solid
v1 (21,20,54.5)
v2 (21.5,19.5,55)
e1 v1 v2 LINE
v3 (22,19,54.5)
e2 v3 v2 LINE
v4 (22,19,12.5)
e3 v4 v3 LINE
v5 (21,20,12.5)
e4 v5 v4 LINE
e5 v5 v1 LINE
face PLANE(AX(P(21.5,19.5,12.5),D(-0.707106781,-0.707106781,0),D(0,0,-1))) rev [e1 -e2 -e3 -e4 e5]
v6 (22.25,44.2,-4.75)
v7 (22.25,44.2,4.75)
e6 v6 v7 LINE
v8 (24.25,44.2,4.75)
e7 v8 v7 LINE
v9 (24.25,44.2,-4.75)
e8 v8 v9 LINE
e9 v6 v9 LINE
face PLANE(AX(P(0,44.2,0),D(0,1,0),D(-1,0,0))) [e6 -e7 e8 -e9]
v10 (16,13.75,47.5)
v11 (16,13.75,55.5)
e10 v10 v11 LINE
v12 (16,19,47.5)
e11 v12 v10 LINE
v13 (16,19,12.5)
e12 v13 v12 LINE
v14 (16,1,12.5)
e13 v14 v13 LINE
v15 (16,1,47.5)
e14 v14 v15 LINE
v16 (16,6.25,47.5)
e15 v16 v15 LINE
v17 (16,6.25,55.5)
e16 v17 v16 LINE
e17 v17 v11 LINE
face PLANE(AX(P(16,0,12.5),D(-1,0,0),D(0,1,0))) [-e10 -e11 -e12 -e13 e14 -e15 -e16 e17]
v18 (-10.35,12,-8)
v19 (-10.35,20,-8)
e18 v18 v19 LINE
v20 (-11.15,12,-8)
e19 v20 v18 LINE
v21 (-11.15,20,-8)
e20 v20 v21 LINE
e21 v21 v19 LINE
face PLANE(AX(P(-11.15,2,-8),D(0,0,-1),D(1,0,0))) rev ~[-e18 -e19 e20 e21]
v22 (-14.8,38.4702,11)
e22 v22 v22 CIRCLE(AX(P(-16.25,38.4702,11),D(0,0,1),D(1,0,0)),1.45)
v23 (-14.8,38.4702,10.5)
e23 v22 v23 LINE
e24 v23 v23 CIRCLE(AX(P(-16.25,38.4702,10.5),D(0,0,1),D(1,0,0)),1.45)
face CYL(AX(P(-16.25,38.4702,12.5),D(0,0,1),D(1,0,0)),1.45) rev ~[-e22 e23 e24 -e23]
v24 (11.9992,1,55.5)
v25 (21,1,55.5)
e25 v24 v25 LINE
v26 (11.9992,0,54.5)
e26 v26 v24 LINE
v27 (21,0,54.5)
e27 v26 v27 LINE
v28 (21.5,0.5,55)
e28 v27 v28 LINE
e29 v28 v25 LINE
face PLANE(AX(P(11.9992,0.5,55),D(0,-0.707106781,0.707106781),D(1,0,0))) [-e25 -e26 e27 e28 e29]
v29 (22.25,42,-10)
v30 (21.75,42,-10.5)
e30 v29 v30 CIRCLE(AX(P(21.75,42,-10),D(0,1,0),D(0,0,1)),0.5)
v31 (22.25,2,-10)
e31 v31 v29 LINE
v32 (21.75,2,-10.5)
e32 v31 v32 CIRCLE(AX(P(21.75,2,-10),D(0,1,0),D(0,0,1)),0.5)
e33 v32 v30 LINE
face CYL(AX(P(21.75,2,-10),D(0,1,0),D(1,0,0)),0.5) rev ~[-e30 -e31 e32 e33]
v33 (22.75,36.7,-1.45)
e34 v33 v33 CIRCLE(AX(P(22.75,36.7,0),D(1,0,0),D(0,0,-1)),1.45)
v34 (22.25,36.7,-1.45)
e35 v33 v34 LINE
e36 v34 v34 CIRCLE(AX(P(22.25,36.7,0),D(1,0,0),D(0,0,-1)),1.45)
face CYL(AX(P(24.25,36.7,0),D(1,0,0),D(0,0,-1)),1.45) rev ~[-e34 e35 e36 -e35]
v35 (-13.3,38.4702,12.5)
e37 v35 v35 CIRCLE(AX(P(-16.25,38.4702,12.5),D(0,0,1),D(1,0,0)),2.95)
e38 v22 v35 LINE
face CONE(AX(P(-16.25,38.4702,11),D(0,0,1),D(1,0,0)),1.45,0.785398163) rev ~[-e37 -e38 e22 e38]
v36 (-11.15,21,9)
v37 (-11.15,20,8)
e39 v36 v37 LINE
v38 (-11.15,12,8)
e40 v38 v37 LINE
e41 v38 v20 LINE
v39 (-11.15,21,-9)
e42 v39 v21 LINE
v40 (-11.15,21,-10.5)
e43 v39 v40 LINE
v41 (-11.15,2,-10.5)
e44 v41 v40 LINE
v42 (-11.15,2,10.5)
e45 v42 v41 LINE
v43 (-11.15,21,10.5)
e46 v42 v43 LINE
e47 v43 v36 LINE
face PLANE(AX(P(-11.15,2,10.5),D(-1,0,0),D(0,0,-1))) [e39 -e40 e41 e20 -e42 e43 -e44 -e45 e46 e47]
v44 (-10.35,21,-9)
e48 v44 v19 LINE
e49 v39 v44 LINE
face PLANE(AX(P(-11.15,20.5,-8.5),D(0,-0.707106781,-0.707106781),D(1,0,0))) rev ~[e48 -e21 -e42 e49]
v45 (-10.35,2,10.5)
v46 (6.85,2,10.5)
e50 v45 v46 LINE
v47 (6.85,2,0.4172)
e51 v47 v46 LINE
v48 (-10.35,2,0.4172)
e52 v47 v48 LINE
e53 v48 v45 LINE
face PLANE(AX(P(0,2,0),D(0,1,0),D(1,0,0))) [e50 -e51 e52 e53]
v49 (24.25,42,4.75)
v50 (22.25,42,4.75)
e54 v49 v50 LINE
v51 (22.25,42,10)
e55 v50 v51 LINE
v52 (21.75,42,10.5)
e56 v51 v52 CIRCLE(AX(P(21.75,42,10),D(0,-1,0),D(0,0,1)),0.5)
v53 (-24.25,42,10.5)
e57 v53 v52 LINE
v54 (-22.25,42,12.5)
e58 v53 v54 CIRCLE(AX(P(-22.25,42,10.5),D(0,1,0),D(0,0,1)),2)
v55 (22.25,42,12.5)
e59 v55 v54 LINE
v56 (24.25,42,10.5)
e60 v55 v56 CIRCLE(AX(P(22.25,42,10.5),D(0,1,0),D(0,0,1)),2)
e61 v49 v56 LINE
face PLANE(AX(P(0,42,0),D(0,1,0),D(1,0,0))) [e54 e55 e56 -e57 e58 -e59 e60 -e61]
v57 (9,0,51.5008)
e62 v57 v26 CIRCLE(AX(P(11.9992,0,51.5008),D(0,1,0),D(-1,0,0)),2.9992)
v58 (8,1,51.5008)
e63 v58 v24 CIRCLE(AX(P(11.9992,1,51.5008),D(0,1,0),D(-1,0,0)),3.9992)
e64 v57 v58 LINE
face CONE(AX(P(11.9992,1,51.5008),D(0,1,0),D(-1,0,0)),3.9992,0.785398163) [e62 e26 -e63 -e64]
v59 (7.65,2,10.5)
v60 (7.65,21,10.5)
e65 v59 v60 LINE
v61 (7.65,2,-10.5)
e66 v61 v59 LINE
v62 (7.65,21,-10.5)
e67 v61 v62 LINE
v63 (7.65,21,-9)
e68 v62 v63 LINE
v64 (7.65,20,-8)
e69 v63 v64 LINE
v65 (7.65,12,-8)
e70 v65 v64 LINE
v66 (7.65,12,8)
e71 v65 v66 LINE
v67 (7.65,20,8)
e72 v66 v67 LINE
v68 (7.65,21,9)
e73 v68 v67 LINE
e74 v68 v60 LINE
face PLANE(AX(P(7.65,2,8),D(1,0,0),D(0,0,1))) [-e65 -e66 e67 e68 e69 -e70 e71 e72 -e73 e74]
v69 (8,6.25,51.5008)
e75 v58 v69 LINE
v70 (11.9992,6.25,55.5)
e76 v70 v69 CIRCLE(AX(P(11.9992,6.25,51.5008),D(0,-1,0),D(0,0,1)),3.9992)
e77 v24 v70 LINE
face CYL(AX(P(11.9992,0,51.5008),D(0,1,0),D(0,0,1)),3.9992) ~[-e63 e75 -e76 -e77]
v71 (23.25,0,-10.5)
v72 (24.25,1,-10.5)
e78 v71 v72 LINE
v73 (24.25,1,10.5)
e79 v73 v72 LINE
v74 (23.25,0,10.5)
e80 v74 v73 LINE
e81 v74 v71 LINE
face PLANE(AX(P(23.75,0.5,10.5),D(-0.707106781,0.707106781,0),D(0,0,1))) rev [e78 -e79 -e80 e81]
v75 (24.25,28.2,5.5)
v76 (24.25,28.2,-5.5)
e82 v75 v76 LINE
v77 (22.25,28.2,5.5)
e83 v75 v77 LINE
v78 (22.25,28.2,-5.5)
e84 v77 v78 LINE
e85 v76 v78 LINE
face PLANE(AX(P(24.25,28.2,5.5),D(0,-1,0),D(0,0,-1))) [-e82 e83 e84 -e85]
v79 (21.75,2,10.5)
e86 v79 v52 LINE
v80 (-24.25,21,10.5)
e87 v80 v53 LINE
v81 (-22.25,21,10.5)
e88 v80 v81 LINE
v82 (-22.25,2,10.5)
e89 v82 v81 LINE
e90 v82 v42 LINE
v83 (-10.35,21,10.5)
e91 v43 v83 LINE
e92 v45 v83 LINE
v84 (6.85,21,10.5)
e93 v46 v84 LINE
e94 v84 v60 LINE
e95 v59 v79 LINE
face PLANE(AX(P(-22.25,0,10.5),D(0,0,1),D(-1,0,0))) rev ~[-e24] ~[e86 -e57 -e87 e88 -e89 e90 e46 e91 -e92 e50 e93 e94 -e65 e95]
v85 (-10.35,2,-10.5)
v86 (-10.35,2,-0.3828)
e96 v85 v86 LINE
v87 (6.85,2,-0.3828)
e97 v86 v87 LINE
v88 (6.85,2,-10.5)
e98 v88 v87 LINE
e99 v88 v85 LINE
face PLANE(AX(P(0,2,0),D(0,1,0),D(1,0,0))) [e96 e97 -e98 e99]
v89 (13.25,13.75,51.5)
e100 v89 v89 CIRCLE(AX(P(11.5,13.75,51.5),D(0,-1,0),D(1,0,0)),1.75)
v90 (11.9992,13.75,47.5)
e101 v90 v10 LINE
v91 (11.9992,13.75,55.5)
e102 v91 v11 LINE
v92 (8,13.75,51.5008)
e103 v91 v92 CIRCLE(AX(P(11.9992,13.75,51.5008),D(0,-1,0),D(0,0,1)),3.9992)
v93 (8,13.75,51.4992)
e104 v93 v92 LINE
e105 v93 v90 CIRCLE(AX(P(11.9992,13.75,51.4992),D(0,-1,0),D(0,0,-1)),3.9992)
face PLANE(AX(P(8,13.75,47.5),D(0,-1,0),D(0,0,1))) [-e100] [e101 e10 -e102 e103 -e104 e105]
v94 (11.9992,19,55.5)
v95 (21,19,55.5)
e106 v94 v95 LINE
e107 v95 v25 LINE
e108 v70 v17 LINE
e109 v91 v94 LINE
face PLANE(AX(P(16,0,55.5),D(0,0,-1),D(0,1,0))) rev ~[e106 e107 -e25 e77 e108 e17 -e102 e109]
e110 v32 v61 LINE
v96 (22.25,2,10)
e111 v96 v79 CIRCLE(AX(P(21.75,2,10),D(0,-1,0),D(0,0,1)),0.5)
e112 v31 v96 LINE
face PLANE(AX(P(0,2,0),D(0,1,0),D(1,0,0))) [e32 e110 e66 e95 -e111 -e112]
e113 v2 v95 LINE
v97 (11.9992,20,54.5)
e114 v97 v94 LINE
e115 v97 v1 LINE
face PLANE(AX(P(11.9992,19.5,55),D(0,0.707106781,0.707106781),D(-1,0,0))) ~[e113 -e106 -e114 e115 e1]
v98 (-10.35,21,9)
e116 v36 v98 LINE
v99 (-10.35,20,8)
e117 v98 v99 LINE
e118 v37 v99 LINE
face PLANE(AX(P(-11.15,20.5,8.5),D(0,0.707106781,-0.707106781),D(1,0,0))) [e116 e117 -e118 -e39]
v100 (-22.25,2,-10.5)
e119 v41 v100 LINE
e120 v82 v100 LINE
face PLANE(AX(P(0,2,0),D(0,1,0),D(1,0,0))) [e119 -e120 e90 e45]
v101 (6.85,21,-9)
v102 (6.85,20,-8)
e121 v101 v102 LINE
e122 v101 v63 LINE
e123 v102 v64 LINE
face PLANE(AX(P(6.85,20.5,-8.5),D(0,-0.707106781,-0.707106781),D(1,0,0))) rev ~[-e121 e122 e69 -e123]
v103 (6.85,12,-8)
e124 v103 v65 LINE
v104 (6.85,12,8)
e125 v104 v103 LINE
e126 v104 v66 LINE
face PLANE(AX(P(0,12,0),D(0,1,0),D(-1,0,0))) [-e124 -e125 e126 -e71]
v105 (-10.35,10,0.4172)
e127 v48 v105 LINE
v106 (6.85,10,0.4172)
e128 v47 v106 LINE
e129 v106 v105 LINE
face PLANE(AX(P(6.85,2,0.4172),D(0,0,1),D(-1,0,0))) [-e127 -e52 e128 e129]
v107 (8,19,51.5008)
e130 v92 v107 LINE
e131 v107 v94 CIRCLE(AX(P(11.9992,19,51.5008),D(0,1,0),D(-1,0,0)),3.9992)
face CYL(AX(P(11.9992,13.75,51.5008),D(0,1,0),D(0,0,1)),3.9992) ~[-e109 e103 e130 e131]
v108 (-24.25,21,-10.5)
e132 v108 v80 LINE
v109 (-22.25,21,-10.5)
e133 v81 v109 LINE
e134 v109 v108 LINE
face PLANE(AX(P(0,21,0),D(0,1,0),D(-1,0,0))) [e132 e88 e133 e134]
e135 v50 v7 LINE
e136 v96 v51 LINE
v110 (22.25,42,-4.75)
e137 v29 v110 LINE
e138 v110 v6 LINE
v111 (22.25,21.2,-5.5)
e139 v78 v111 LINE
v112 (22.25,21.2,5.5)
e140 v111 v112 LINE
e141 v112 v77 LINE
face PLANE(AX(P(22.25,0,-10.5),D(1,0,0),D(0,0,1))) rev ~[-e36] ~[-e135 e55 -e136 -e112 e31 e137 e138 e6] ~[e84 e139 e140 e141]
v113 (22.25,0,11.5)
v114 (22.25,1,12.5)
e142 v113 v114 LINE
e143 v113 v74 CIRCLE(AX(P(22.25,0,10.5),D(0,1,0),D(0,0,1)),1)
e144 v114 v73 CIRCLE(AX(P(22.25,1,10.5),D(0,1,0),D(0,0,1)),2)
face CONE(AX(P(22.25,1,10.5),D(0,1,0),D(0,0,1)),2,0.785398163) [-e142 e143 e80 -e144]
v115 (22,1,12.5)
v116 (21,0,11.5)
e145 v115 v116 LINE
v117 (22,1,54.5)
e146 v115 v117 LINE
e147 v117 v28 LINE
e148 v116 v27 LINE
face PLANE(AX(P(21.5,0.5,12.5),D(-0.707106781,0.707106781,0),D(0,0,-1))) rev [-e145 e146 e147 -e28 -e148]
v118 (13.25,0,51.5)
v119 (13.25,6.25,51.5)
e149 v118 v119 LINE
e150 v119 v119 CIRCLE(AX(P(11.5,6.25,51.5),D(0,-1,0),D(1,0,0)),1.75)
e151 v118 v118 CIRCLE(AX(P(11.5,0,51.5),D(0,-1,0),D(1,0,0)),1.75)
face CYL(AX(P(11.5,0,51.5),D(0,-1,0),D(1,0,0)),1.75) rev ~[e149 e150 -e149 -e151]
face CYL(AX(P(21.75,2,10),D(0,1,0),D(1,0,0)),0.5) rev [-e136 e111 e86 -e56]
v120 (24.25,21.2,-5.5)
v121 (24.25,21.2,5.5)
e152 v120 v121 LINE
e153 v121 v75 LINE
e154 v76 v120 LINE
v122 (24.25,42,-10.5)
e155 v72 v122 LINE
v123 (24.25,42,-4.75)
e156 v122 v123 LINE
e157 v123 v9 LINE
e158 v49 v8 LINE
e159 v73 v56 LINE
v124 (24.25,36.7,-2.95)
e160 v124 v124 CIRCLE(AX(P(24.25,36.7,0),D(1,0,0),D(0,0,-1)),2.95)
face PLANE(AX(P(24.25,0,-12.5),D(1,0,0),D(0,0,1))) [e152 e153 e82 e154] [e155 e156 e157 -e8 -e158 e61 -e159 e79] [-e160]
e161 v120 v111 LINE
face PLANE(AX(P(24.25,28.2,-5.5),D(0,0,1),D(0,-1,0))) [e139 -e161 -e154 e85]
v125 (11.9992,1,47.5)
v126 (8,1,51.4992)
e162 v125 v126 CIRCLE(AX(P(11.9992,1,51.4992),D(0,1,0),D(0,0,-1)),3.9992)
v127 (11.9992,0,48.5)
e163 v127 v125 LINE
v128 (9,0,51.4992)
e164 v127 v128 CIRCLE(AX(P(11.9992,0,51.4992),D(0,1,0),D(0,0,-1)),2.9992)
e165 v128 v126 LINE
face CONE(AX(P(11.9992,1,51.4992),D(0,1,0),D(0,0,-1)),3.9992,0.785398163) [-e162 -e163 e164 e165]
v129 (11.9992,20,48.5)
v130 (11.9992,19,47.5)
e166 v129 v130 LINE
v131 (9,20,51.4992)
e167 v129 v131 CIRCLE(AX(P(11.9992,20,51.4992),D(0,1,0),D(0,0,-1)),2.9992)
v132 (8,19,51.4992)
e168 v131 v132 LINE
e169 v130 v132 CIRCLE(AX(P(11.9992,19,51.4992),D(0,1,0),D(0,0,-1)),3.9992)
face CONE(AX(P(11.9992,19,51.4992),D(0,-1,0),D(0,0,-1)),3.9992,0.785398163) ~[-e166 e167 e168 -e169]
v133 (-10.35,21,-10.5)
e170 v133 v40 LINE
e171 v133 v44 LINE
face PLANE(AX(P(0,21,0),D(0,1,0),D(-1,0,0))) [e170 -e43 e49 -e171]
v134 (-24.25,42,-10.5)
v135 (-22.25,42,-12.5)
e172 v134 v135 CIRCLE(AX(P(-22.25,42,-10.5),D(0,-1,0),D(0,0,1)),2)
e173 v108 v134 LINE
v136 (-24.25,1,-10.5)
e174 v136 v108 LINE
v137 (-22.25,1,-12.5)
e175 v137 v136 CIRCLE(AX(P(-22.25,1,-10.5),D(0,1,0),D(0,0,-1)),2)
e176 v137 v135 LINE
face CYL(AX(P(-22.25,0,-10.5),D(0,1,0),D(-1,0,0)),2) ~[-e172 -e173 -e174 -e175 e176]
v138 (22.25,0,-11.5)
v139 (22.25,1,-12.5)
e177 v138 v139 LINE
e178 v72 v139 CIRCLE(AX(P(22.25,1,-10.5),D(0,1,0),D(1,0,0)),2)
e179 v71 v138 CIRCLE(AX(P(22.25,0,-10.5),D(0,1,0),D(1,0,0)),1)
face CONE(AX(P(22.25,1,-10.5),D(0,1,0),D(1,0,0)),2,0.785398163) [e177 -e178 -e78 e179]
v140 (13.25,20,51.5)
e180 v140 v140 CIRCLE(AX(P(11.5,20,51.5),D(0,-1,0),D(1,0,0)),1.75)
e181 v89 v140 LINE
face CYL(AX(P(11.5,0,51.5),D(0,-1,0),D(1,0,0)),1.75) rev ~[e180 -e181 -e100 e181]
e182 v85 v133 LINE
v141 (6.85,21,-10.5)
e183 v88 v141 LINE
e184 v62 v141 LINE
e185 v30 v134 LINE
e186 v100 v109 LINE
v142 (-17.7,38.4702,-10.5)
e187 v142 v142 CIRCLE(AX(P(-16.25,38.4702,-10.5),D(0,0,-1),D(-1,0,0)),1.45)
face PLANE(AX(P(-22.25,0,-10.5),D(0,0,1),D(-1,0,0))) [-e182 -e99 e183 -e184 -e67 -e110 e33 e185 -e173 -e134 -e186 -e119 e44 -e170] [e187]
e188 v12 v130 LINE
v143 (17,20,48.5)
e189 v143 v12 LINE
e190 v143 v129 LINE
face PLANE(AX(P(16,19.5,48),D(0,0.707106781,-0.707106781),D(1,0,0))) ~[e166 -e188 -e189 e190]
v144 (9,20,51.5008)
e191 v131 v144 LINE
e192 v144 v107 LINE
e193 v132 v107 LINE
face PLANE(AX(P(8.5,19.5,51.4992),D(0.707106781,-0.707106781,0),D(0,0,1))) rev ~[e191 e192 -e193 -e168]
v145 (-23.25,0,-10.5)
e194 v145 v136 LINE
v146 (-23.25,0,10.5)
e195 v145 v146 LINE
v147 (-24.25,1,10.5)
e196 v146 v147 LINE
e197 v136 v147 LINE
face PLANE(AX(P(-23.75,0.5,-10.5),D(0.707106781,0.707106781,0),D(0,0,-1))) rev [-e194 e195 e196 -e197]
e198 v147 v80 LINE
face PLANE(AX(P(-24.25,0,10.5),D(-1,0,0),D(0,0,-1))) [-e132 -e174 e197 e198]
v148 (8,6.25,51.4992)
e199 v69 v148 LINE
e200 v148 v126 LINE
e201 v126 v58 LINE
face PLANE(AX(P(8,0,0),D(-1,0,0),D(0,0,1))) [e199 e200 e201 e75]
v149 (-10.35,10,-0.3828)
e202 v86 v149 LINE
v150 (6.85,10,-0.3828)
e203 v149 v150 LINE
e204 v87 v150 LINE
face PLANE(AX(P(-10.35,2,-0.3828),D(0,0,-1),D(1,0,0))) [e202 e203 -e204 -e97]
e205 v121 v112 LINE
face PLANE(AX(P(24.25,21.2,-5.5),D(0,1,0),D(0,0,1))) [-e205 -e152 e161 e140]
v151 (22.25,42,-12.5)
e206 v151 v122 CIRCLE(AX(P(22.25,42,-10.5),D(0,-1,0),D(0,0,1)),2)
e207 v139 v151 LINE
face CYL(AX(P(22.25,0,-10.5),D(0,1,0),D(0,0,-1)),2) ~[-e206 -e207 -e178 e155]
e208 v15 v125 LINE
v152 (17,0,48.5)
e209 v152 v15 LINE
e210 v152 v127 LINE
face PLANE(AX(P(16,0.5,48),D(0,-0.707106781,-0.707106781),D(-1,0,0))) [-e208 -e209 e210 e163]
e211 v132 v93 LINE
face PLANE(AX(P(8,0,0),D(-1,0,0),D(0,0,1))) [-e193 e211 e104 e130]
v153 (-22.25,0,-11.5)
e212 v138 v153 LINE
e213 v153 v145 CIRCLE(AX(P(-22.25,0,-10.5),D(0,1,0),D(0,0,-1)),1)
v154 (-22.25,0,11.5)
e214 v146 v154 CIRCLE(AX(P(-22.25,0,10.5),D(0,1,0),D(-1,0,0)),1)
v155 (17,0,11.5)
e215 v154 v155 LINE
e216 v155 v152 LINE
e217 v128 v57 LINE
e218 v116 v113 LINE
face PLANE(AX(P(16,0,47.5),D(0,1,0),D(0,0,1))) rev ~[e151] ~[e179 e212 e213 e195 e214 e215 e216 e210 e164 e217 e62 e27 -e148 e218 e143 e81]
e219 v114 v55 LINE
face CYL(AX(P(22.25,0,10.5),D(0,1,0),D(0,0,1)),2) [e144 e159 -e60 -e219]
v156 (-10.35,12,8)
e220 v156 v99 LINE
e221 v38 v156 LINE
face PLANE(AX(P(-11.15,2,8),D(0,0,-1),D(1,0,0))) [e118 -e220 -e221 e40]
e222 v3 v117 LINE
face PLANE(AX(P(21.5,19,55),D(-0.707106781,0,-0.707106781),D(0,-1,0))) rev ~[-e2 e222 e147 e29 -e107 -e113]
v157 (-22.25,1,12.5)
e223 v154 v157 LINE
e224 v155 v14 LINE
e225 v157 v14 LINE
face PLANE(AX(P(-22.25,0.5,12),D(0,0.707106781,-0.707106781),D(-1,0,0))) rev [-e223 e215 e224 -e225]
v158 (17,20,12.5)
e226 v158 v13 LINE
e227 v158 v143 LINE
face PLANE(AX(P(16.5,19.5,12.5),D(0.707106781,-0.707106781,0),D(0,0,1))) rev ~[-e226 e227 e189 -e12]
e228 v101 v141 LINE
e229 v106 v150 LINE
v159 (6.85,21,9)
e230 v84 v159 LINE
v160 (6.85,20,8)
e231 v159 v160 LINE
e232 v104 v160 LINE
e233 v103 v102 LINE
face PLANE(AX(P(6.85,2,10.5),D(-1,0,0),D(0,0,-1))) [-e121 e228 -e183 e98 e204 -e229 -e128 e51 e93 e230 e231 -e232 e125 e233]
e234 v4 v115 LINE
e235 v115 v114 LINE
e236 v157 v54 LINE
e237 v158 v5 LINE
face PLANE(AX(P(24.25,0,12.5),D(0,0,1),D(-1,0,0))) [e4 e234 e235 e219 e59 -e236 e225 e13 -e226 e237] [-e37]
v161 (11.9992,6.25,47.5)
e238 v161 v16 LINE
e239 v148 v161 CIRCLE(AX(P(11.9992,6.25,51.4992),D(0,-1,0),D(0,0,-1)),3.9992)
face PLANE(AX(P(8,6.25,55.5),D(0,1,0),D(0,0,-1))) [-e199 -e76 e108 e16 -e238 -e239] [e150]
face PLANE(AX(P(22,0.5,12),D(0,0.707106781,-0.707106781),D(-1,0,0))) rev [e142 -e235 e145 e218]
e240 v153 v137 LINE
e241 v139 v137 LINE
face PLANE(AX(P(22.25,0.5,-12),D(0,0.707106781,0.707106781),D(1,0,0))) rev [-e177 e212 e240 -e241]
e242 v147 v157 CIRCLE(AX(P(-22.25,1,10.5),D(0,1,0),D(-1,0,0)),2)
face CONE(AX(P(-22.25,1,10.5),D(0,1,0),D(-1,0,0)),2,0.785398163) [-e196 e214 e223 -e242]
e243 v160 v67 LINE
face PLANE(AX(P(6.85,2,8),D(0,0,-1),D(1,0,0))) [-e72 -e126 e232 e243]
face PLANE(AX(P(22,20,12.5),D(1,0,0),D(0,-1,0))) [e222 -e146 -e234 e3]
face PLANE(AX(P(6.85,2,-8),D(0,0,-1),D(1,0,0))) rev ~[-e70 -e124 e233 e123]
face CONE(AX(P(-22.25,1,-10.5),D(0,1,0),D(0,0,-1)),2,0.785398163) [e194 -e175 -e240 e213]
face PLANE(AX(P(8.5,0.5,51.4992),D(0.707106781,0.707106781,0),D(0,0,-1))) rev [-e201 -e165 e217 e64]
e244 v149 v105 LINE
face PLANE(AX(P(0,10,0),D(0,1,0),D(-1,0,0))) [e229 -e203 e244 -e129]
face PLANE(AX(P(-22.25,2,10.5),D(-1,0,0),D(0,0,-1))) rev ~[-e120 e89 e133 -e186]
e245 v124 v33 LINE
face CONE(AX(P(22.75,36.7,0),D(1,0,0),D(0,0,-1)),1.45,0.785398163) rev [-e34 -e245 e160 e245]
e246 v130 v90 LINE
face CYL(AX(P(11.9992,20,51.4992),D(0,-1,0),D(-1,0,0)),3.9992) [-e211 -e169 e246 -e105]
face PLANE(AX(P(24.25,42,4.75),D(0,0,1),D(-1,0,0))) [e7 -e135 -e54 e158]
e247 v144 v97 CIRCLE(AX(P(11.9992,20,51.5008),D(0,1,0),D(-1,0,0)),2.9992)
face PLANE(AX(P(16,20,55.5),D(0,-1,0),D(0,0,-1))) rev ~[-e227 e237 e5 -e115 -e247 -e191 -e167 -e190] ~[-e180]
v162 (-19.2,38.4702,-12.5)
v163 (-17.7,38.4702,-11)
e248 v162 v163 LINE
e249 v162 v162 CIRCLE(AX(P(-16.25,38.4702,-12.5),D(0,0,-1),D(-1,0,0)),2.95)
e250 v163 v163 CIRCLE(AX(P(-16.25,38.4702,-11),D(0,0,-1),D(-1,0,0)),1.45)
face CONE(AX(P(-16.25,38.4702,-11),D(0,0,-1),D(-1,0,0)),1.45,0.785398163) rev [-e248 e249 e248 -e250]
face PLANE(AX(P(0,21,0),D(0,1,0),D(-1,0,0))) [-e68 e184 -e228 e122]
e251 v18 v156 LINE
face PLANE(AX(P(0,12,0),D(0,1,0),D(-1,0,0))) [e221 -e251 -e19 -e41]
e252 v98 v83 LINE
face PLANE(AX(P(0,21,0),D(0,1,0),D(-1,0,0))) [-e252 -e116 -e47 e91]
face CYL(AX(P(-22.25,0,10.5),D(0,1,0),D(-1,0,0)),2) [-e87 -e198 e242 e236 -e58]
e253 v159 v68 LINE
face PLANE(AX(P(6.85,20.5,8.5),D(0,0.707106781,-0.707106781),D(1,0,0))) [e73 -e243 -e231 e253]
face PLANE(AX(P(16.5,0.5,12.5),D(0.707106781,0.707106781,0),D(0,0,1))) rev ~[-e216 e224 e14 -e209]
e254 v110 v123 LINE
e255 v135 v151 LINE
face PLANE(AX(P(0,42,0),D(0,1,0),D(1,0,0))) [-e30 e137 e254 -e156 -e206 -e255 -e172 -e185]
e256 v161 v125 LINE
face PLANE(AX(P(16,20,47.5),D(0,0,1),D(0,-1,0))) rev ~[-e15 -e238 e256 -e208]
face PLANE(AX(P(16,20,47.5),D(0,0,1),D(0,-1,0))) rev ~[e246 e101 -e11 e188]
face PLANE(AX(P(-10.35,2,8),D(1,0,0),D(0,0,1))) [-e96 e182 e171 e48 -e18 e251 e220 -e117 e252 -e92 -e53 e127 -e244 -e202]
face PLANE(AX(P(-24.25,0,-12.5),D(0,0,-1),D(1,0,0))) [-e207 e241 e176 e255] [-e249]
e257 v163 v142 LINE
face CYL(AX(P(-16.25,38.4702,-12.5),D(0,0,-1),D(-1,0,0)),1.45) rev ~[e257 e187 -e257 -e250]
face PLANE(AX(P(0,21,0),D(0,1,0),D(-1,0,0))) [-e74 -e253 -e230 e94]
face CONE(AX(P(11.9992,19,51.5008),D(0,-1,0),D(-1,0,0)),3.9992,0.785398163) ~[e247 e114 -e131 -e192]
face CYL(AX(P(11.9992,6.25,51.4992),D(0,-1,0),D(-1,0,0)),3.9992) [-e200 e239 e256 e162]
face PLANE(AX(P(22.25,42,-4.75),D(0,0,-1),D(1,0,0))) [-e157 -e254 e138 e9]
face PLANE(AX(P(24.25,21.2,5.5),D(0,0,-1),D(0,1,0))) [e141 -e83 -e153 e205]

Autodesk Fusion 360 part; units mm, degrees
sketch "Skizze1" plane through (0, 0, 0) normal (0, 1, 0) x (1, 0, 0)
  line L0 (-24.25, 12.5) -> (24.25, 12.5)
  line L1 (24.25, 12.5) -> (24.25, -12.5)
  line L2 (24.25, -12.5) -> (-24.25, -12.5)
  line L3 (-24.25, -12.5) -> (-24.25, 12.5)
  line L4 (-24.25, 12.5) -> (24.25, -12.5) construction
  line L5 (24.25, 12.5) -> (-24.25, -12.5) construction
  line L6 (22.25, -10.5) -> (-22.25, -10.5)
  line L7 (-22.25, -10.5) -> (-22.25, 10.5)
  line L8 (-22.25, 10.5) -> (22.25, 10.5)
  line L9 (22.25, 10.5) -> (22.25, -10.5)
  line L10 (-22.25, -10.5) -> (-24.25, -10.5)
  line L11 (-22.25, 10.5) -> (-24.25, 10.5)
  dimension "d1" = 48.5
  dimension "d2" = 25
  dimension "d3" = 2
extrude "Extrusion1" add sketch "Skizze1" along normal blind 2 contours L6 L7 L8 L9
extrude "Extrusion3" add sketch "Skizze1" along normal blind 42 contours L0 L1 L2 L3 L6 L8 L9 L10 L11
sketch "Skizze2" plane through (0, 0, 12.5) normal (0, 0, 1) x (1, 0, 0)
  line L0 (-24.25, 0) -> (24.25, 0)
  line L1 (24.25, 0) -> (24.25, 42)
  line L2 (24.25, 42) -> (-24.25, 42)
  line L3 (-24.25, 42) -> (-24.25, 0)
  circle A0 centre (-16.25, 38.4702) radius 1.45
  dimension "d11" = 2.9
sketch "Skizze3" plane through (0, 0, -12.5) normal (0, 0, -1) x (-1, 0, 0)
  line L0 (-24.25, 0) -> (24.25, 0)
  line L1 (24.25, 0) -> (24.25, 42)
  line L2 (24.25, 42) -> (-24.25, 42)
  line L3 (-24.25, 42) -> (-24.25, 0)
  circle A0 centre (16.25, 38.4702) radius 1.45
  dimension "d12" = 2.9
extrude "Extrusion4" cut sketch "Skizze3" against normal blind 2 contours A0
extrude "Extrusion5" cut sketch "Skizze2" against normal blind 2 contours A0
chamfer "Fase1" distance 1.5 angle 45 1 edges at (-17.6019, 38.9946, 12.5)
chamfer "Fase2" distance 1.5 angle 45 1 edges at (-14.8981, 38.9946, -12.5)
sketch "Skizze4" plane through (0, 42, 0) normal (0, 1, 0) x (-1, 0, 0)
  line L0 (-22.25, -10.5) -> (-22.25, 10.5)
  line L1 (-22.25, 10.5) -> (24.25, 10.5)
  line L2 (24.25, 10.5) -> (24.25, 12.5)
  line L3 (24.25, 12.5) -> (-24.25, 12.5)
  line L4 (-24.25, 12.5) -> (-24.25, -12.5)
  line L5 (-24.25, -12.5) -> (24.25, -12.5)
  line L6 (24.25, -12.5) -> (24.25, -10.5)
  line L7 (24.25, -10.5) -> (-22.25, -10.5)
  line L8 (-22.25, -4.75) -> (-24.25, -4.75)
  line L9 (-24.25, -4.75) -> (-24.25, 4.75)
  line L10 (-24.25, 4.75) -> (-22.25, 4.75)
  line L11 (-22.25, 4.75) -> (-22.25, -4.75)
  line L12 (-22.25, -4.75) -> (-24.25, 4.75) construction
  line L13 (-24.25, -4.75) -> (-22.25, 4.75) construction
  point P0 (-23.25, 0)
  dimension "d20" = 2
  dimension "d21" = 9.5
extrude "Extrusion6" add sketch "Skizze4" along normal blind 2.2 contours L0 L4 L8 L9 L10 L11
sketch "Skizze5" plane through (24.25, 0, 0) normal (1, 0, 0) x (0, 0, -1)
  line L0 (-12.5, 0) -> (12.5, 0)
  line L1 (12.5, 0) -> (12.5, 42)
  line L2 (12.5, 42) -> (4.75, 42)
  line L3 (4.75, 42) -> (4.75, 44.2)
  line L4 (4.75, 44.2) -> (-4.75, 44.2)
  line L5 (-4.75, 44.2) -> (-4.75, 42)
  line L6 (-4.75, 42) -> (-12.5, 42)
  line L7 (-12.5, 42) -> (-12.5, 0)
  circle A0 centre (0, 36.7) radius 1.45
  line L8 (5.5, 21.2) -> (-5.5, 21.2)
  line L9 (-5.5, 21.2) -> (-5.5, 28.2)
  line L10 (-5.5, 28.2) -> (5.5, 28.2)
  line L11 (5.5, 28.2) -> (5.5, 21.2)
  line L12 (5.5, 21.2) -> (-5.5, 28.2) construction
  line L13 (-5.5, 21.2) -> (5.5, 28.2) construction
  point P0 (0, 24.7)
  dimension "d25" = 2.9
  dimension "d27" = 11
  dimension "d28" = 7
extrude "Extrusion7" cut sketch "Skizze5" against normal blind 2 contours A0 | L8 L9 L10 L11
chamfer "Fase3" distance 1.5 angle 45 1 edges at (24.25, 37.2243, 1.3519)
extrude "Extrusion8" add sketch "Skizze1" along normal blind 2 contours L3 L7 L10 L11
sketch "Skizze6" plane through (0, 2, 0) normal (0, 1, 0) x (-1, 0, 0)
  line L0 (-22.25, -10.5) -> (24.25, -10.5)
  line L1 (24.25, -10.5) -> (24.25, 10.5)
  line L2 (24.25, 10.5) -> (-22.25, 10.5)
  line L3 (-22.25, 10.5) -> (-22.25, -10.5)
  line L4 (11.15, -10.5) -> (10.35, -10.5)
  line L5 (10.35, -10.5) -> (10.35, 10.5)
  line L6 (10.35, 10.5) -> (11.15, 10.5)
  line L7 (11.15, 10.5) -> (11.15, -10.5)
  line L8 (11.15, -10.5) -> (10.35, 10.5) construction
  line L9 (10.35, -10.5) -> (11.15, 10.5) construction
  line L10 (-6.85, -10.5) -> (-7.65, -10.5)
  line L11 (-7.65, -10.5) -> (-7.65, 10.5)
  line L12 (-7.65, 10.5) -> (-6.85, 10.5)
  line L13 (-6.85, 10.5) -> (-6.85, -10.5)
  line L14 (-6.85, -10.5) -> (-7.65, 10.5) construction
  line L15 (-7.65, -10.5) -> (-6.85, 10.5) construction
  line L16 (-7.65, 10.5) -> (-6.85, 10.5)
  line L17 (-6.85, 10.5) -> (-6.85, 8)
  line L18 (-6.85, 8) -> (-7.65, 8)
  line L19 (-7.65, 8) -> (-7.65, 10.5)
  line L20 (10.35, 10.5) -> (11.15, 10.5)
  line L21 (11.15, 10.5) -> (11.15, 8)
  line L22 (11.15, 8) -> (10.35, 8)
  line L23 (10.35, 8) -> (10.35, 10.5)
  line L24 (-7.65, -10.5) -> (-6.85, -10.5)
  line L25 (-6.85, -10.5) -> (-6.85, -8)
  line L26 (-6.85, -8) -> (-7.65, -8)
  line L27 (-7.65, -8) -> (-7.65, -10.5)
  line L28 (10.35, -10.5) -> (11.15, -10.5)
  line L29 (11.15, -10.5) -> (11.15, -8)
  line L30 (11.15, -8) -> (10.35, -8)
  line L31 (10.35, -8) -> (10.35, -10.5)
  line L32 (-6.85, 0.4172) -> (10.35, 0.4172)
  line L33 (10.35, 0.4172) -> (10.35, -0.3828)
  line L34 (10.35, -0.3828) -> (-6.85, -0.3828)
  line L35 (-6.85, -0.3828) -> (-6.85, 0.4172)
  line L36 (24.25, 10.5) -> (22.25, 10.5)
  line L37 (22.25, 10.5) -> (22.25, -10.5)
  line L38 (22.25, -10.5) -> (24.25, -10.5)
  line L39 (24.25, -10.5) -> (24.25, 10.5)
  point P0 (10.75, 0)
  point P1 (-7.25, 0)
  dimension "d35" = 18
  dimension "d36" = 0.8
  dimension "d37" = 21
  dimension "d38" = 0.8
  dimension "d39" = 21
  dimension "d40" = 0.8
  dimension "d41" = 2.5
  dimension "d42" = 2.5
  dimension "d43" = 2.5
  dimension "d44" = 2.5
  dimension "d49" = 0.8
  dimension "d50" = 2
extrude "Extrusion9" add sketch "Skizze6" along normal blind 10 contours L11 L13 L18 L26 L35 | L5 L7 L22 L30 L33
extrude "Extrusion10" add sketch "Skizze6" along normal blind 19 contours L0 L10 L11 L13 L24 L25 L26 L27 | L2 L11 L12 L13 L16 L17 L18 L19 | L0 L4 L5 L7 L28 L29 L30 L31 | L2 L5 L6 L7 L20 L21 L22 L23
extrude "Extrusion12" add sketch "Skizze6" along normal blind 19 contours L0 L1 L2 L36 L37 L38 L39
extrude "Extrusion13" add sketch "Skizze6" along normal blind 8 contours L5 L13 L32 L33 L34 L35
chamfer "Fase4" distance 1 angle 45 4 edges at (-10.75, 21, 8) (7.25, 21, 8) (-10.75, 21, -8) (7.25, 21, -8)
fillet "Abrundung1" radius 2 2 edges at (24.25, 21, -12.5) (24.25, 21, 12.5)
fillet "Abrundung2" radius 0.5 2 edges at (22.25, 22, 10.5) (22.25, 22, -10.5)
fillet "Abrundung3" radius 2 2 edges at (-24.25, 21, 12.5) (-24.25, 21, -12.5)
sketch "Skizze8" plane through (0, 0, 12.5) normal (0, 0, 1) x (1, 0, 0)
  line L0 (-22.25, 42) -> (-22.25, 0)
  line L1 (-22.25, 0) -> (22.25, 0)
  line L2 (22.25, 0) -> (22.25, 42)
  line L3 (22.25, 42) -> (-22.25, 42)
  circle A0 centre (-16.25, 38.4702) radius 2.95
  line L4 (22, 0) -> (16, 0)
  line L5 (16, 0) -> (16, 20)
  line L6 (16, 20) -> (22, 20)
  line L7 (22, 20) -> (22, 0)
  line L8 (22, 0) -> (16, 20) construction
  line L9 (16, 0) -> (22, 20) construction
  point P0 (19, 10)
  dimension "d68" = 6
  dimension "d69" = 20
extrude "Extrusion15" add sketch "Skizze8" along normal blind 43 contours L1 L4 L5 L6 L7
sketch "Skizze9" plane through (16, 0, 0) normal (-1, 0, 0) x (0, 0, 1)
  line L0 (12.5, 20) -> (12.5, 0)
  line L1 (12.5, 0) -> (55.5, 0)
  line L2 (55.5, 0) -> (55.5, 20)
  line L3 (55.5, 20) -> (12.5, 20)
  line L4 (55.5, 20) -> (47.5, 20)
  line L5 (47.5, 20) -> (47.5, 0)
  line L6 (47.5, 0) -> (55.5, 0)
  line L7 (55.5, 0) -> (55.5, 20)
  dimension "d72" = 8
extrude "Extrusion16" add sketch "Skizze9" along normal blind 8 contours L1 L2 L3 L4 L5 L6 L7
sketch "Skizze10" plane through (0, 0, 0) normal (0, -1, 0) x (1, 0, 0)
  line L0 (8, 47.5) -> (16, 47.5)
  line L1 (16, 47.5) -> (16, 12.5)
  line L2 (22.25, 12.5) -> (22, 12.5)
  arc A0 (-22.25, 12.5) -> (-24.25, 10.5) centre (-22.25, 10.5) ccw
  line L3 (-24.25, 10.5) -> (-24.25, -10.5)
  arc A1 (-24.25, -10.5) -> (-22.25, -12.5) centre (-22.25, -10.5) ccw
  line L4 (-22.25, -12.5) -> (22.25, -12.5)
  arc A2 (22.25, -12.5) -> (24.25, -10.5) centre (22.25, -10.5) ccw
  line L5 (24.25, -10.5) -> (24.25, 10.5)
  arc A3 (24.25, 10.5) -> (22.25, 12.5) centre (22.25, 10.5) ccw
  line L6 (22, 12.5) -> (22, 55.5)
  line L7 (22, 55.5) -> (8, 55.5)
  circle A4 centre (11.5, 51.5) radius 1.75
  line L8 (8, 55.5) -> (8, 47.5)
  line L9 (16, 12.5) -> (-22.25, 12.5)
  dimension "d77" = 3.5
extrude "Extrusion17" cut sketch "Skizze10" against normal blind 20 contours A4
sketch "Skizze11" plane through (8, 0, 0) normal (-1, 0, 0) x (0, 0, 1)
  line L0 (55.5, 0) -> (55.5, 20)
  line L1 (55.5, 20) -> (47.5, 20)
  line L2 (47.5, 20) -> (47.5, 0)
  line L3 (47.5, 0) -> (55.5, 0)
  line L4 (55.5, 6.25) -> (47.5, 6.25)
  line L5 (47.5, 6.25) -> (47.5, 13.75)
  line L6 (47.5, 13.75) -> (55.5, 13.75)
  line L7 (55.5, 13.75) -> (55.5, 6.25)
  line L8 (55.5, 6.25) -> (47.5, 13.75) construction
  line L9 (47.5, 6.25) -> (55.5, 13.75) construction
  point P0 (51.5, 10)
  dimension "d80" = 7.5
extrude "Extrusion18" cut sketch "Skizze11" against normal blind 8 contours L0 L2 L4 L5 L6 L7
fillet "Abrundung5" radius 4 4 edges at (8, 16.875, 47.5) (8, 16.875, 55.5) (8, 3.125, 47.5) (8, 3.125, 55.5)
chamfer "Fase10" distance 1 angle 45 19 edges at (14, 0, 47.5) (8, 0, 51.5) (17, 0, 55.5) (22, 0, 34) (23.6642, 0, 11.9142) (24.25, 0, 0) (23.6642, 0, -11.9142) (0, 0, -12.5) (-23.6642, 0, -11.9142) (-24.25, 0, 0) (-23.6642, 0, 11.9142) (-3.125, 0, 12.5) (22.125, 0, 12.5) (16, 0, 30) (22, 20, 34) (17, 20, 55.5) (8, 20, 51.5) (14, 20, 47.5) (16, 20, 30)
chamfer "Fase11" distance 1 angle 45 1 edges at (22, 10, 55.5)
